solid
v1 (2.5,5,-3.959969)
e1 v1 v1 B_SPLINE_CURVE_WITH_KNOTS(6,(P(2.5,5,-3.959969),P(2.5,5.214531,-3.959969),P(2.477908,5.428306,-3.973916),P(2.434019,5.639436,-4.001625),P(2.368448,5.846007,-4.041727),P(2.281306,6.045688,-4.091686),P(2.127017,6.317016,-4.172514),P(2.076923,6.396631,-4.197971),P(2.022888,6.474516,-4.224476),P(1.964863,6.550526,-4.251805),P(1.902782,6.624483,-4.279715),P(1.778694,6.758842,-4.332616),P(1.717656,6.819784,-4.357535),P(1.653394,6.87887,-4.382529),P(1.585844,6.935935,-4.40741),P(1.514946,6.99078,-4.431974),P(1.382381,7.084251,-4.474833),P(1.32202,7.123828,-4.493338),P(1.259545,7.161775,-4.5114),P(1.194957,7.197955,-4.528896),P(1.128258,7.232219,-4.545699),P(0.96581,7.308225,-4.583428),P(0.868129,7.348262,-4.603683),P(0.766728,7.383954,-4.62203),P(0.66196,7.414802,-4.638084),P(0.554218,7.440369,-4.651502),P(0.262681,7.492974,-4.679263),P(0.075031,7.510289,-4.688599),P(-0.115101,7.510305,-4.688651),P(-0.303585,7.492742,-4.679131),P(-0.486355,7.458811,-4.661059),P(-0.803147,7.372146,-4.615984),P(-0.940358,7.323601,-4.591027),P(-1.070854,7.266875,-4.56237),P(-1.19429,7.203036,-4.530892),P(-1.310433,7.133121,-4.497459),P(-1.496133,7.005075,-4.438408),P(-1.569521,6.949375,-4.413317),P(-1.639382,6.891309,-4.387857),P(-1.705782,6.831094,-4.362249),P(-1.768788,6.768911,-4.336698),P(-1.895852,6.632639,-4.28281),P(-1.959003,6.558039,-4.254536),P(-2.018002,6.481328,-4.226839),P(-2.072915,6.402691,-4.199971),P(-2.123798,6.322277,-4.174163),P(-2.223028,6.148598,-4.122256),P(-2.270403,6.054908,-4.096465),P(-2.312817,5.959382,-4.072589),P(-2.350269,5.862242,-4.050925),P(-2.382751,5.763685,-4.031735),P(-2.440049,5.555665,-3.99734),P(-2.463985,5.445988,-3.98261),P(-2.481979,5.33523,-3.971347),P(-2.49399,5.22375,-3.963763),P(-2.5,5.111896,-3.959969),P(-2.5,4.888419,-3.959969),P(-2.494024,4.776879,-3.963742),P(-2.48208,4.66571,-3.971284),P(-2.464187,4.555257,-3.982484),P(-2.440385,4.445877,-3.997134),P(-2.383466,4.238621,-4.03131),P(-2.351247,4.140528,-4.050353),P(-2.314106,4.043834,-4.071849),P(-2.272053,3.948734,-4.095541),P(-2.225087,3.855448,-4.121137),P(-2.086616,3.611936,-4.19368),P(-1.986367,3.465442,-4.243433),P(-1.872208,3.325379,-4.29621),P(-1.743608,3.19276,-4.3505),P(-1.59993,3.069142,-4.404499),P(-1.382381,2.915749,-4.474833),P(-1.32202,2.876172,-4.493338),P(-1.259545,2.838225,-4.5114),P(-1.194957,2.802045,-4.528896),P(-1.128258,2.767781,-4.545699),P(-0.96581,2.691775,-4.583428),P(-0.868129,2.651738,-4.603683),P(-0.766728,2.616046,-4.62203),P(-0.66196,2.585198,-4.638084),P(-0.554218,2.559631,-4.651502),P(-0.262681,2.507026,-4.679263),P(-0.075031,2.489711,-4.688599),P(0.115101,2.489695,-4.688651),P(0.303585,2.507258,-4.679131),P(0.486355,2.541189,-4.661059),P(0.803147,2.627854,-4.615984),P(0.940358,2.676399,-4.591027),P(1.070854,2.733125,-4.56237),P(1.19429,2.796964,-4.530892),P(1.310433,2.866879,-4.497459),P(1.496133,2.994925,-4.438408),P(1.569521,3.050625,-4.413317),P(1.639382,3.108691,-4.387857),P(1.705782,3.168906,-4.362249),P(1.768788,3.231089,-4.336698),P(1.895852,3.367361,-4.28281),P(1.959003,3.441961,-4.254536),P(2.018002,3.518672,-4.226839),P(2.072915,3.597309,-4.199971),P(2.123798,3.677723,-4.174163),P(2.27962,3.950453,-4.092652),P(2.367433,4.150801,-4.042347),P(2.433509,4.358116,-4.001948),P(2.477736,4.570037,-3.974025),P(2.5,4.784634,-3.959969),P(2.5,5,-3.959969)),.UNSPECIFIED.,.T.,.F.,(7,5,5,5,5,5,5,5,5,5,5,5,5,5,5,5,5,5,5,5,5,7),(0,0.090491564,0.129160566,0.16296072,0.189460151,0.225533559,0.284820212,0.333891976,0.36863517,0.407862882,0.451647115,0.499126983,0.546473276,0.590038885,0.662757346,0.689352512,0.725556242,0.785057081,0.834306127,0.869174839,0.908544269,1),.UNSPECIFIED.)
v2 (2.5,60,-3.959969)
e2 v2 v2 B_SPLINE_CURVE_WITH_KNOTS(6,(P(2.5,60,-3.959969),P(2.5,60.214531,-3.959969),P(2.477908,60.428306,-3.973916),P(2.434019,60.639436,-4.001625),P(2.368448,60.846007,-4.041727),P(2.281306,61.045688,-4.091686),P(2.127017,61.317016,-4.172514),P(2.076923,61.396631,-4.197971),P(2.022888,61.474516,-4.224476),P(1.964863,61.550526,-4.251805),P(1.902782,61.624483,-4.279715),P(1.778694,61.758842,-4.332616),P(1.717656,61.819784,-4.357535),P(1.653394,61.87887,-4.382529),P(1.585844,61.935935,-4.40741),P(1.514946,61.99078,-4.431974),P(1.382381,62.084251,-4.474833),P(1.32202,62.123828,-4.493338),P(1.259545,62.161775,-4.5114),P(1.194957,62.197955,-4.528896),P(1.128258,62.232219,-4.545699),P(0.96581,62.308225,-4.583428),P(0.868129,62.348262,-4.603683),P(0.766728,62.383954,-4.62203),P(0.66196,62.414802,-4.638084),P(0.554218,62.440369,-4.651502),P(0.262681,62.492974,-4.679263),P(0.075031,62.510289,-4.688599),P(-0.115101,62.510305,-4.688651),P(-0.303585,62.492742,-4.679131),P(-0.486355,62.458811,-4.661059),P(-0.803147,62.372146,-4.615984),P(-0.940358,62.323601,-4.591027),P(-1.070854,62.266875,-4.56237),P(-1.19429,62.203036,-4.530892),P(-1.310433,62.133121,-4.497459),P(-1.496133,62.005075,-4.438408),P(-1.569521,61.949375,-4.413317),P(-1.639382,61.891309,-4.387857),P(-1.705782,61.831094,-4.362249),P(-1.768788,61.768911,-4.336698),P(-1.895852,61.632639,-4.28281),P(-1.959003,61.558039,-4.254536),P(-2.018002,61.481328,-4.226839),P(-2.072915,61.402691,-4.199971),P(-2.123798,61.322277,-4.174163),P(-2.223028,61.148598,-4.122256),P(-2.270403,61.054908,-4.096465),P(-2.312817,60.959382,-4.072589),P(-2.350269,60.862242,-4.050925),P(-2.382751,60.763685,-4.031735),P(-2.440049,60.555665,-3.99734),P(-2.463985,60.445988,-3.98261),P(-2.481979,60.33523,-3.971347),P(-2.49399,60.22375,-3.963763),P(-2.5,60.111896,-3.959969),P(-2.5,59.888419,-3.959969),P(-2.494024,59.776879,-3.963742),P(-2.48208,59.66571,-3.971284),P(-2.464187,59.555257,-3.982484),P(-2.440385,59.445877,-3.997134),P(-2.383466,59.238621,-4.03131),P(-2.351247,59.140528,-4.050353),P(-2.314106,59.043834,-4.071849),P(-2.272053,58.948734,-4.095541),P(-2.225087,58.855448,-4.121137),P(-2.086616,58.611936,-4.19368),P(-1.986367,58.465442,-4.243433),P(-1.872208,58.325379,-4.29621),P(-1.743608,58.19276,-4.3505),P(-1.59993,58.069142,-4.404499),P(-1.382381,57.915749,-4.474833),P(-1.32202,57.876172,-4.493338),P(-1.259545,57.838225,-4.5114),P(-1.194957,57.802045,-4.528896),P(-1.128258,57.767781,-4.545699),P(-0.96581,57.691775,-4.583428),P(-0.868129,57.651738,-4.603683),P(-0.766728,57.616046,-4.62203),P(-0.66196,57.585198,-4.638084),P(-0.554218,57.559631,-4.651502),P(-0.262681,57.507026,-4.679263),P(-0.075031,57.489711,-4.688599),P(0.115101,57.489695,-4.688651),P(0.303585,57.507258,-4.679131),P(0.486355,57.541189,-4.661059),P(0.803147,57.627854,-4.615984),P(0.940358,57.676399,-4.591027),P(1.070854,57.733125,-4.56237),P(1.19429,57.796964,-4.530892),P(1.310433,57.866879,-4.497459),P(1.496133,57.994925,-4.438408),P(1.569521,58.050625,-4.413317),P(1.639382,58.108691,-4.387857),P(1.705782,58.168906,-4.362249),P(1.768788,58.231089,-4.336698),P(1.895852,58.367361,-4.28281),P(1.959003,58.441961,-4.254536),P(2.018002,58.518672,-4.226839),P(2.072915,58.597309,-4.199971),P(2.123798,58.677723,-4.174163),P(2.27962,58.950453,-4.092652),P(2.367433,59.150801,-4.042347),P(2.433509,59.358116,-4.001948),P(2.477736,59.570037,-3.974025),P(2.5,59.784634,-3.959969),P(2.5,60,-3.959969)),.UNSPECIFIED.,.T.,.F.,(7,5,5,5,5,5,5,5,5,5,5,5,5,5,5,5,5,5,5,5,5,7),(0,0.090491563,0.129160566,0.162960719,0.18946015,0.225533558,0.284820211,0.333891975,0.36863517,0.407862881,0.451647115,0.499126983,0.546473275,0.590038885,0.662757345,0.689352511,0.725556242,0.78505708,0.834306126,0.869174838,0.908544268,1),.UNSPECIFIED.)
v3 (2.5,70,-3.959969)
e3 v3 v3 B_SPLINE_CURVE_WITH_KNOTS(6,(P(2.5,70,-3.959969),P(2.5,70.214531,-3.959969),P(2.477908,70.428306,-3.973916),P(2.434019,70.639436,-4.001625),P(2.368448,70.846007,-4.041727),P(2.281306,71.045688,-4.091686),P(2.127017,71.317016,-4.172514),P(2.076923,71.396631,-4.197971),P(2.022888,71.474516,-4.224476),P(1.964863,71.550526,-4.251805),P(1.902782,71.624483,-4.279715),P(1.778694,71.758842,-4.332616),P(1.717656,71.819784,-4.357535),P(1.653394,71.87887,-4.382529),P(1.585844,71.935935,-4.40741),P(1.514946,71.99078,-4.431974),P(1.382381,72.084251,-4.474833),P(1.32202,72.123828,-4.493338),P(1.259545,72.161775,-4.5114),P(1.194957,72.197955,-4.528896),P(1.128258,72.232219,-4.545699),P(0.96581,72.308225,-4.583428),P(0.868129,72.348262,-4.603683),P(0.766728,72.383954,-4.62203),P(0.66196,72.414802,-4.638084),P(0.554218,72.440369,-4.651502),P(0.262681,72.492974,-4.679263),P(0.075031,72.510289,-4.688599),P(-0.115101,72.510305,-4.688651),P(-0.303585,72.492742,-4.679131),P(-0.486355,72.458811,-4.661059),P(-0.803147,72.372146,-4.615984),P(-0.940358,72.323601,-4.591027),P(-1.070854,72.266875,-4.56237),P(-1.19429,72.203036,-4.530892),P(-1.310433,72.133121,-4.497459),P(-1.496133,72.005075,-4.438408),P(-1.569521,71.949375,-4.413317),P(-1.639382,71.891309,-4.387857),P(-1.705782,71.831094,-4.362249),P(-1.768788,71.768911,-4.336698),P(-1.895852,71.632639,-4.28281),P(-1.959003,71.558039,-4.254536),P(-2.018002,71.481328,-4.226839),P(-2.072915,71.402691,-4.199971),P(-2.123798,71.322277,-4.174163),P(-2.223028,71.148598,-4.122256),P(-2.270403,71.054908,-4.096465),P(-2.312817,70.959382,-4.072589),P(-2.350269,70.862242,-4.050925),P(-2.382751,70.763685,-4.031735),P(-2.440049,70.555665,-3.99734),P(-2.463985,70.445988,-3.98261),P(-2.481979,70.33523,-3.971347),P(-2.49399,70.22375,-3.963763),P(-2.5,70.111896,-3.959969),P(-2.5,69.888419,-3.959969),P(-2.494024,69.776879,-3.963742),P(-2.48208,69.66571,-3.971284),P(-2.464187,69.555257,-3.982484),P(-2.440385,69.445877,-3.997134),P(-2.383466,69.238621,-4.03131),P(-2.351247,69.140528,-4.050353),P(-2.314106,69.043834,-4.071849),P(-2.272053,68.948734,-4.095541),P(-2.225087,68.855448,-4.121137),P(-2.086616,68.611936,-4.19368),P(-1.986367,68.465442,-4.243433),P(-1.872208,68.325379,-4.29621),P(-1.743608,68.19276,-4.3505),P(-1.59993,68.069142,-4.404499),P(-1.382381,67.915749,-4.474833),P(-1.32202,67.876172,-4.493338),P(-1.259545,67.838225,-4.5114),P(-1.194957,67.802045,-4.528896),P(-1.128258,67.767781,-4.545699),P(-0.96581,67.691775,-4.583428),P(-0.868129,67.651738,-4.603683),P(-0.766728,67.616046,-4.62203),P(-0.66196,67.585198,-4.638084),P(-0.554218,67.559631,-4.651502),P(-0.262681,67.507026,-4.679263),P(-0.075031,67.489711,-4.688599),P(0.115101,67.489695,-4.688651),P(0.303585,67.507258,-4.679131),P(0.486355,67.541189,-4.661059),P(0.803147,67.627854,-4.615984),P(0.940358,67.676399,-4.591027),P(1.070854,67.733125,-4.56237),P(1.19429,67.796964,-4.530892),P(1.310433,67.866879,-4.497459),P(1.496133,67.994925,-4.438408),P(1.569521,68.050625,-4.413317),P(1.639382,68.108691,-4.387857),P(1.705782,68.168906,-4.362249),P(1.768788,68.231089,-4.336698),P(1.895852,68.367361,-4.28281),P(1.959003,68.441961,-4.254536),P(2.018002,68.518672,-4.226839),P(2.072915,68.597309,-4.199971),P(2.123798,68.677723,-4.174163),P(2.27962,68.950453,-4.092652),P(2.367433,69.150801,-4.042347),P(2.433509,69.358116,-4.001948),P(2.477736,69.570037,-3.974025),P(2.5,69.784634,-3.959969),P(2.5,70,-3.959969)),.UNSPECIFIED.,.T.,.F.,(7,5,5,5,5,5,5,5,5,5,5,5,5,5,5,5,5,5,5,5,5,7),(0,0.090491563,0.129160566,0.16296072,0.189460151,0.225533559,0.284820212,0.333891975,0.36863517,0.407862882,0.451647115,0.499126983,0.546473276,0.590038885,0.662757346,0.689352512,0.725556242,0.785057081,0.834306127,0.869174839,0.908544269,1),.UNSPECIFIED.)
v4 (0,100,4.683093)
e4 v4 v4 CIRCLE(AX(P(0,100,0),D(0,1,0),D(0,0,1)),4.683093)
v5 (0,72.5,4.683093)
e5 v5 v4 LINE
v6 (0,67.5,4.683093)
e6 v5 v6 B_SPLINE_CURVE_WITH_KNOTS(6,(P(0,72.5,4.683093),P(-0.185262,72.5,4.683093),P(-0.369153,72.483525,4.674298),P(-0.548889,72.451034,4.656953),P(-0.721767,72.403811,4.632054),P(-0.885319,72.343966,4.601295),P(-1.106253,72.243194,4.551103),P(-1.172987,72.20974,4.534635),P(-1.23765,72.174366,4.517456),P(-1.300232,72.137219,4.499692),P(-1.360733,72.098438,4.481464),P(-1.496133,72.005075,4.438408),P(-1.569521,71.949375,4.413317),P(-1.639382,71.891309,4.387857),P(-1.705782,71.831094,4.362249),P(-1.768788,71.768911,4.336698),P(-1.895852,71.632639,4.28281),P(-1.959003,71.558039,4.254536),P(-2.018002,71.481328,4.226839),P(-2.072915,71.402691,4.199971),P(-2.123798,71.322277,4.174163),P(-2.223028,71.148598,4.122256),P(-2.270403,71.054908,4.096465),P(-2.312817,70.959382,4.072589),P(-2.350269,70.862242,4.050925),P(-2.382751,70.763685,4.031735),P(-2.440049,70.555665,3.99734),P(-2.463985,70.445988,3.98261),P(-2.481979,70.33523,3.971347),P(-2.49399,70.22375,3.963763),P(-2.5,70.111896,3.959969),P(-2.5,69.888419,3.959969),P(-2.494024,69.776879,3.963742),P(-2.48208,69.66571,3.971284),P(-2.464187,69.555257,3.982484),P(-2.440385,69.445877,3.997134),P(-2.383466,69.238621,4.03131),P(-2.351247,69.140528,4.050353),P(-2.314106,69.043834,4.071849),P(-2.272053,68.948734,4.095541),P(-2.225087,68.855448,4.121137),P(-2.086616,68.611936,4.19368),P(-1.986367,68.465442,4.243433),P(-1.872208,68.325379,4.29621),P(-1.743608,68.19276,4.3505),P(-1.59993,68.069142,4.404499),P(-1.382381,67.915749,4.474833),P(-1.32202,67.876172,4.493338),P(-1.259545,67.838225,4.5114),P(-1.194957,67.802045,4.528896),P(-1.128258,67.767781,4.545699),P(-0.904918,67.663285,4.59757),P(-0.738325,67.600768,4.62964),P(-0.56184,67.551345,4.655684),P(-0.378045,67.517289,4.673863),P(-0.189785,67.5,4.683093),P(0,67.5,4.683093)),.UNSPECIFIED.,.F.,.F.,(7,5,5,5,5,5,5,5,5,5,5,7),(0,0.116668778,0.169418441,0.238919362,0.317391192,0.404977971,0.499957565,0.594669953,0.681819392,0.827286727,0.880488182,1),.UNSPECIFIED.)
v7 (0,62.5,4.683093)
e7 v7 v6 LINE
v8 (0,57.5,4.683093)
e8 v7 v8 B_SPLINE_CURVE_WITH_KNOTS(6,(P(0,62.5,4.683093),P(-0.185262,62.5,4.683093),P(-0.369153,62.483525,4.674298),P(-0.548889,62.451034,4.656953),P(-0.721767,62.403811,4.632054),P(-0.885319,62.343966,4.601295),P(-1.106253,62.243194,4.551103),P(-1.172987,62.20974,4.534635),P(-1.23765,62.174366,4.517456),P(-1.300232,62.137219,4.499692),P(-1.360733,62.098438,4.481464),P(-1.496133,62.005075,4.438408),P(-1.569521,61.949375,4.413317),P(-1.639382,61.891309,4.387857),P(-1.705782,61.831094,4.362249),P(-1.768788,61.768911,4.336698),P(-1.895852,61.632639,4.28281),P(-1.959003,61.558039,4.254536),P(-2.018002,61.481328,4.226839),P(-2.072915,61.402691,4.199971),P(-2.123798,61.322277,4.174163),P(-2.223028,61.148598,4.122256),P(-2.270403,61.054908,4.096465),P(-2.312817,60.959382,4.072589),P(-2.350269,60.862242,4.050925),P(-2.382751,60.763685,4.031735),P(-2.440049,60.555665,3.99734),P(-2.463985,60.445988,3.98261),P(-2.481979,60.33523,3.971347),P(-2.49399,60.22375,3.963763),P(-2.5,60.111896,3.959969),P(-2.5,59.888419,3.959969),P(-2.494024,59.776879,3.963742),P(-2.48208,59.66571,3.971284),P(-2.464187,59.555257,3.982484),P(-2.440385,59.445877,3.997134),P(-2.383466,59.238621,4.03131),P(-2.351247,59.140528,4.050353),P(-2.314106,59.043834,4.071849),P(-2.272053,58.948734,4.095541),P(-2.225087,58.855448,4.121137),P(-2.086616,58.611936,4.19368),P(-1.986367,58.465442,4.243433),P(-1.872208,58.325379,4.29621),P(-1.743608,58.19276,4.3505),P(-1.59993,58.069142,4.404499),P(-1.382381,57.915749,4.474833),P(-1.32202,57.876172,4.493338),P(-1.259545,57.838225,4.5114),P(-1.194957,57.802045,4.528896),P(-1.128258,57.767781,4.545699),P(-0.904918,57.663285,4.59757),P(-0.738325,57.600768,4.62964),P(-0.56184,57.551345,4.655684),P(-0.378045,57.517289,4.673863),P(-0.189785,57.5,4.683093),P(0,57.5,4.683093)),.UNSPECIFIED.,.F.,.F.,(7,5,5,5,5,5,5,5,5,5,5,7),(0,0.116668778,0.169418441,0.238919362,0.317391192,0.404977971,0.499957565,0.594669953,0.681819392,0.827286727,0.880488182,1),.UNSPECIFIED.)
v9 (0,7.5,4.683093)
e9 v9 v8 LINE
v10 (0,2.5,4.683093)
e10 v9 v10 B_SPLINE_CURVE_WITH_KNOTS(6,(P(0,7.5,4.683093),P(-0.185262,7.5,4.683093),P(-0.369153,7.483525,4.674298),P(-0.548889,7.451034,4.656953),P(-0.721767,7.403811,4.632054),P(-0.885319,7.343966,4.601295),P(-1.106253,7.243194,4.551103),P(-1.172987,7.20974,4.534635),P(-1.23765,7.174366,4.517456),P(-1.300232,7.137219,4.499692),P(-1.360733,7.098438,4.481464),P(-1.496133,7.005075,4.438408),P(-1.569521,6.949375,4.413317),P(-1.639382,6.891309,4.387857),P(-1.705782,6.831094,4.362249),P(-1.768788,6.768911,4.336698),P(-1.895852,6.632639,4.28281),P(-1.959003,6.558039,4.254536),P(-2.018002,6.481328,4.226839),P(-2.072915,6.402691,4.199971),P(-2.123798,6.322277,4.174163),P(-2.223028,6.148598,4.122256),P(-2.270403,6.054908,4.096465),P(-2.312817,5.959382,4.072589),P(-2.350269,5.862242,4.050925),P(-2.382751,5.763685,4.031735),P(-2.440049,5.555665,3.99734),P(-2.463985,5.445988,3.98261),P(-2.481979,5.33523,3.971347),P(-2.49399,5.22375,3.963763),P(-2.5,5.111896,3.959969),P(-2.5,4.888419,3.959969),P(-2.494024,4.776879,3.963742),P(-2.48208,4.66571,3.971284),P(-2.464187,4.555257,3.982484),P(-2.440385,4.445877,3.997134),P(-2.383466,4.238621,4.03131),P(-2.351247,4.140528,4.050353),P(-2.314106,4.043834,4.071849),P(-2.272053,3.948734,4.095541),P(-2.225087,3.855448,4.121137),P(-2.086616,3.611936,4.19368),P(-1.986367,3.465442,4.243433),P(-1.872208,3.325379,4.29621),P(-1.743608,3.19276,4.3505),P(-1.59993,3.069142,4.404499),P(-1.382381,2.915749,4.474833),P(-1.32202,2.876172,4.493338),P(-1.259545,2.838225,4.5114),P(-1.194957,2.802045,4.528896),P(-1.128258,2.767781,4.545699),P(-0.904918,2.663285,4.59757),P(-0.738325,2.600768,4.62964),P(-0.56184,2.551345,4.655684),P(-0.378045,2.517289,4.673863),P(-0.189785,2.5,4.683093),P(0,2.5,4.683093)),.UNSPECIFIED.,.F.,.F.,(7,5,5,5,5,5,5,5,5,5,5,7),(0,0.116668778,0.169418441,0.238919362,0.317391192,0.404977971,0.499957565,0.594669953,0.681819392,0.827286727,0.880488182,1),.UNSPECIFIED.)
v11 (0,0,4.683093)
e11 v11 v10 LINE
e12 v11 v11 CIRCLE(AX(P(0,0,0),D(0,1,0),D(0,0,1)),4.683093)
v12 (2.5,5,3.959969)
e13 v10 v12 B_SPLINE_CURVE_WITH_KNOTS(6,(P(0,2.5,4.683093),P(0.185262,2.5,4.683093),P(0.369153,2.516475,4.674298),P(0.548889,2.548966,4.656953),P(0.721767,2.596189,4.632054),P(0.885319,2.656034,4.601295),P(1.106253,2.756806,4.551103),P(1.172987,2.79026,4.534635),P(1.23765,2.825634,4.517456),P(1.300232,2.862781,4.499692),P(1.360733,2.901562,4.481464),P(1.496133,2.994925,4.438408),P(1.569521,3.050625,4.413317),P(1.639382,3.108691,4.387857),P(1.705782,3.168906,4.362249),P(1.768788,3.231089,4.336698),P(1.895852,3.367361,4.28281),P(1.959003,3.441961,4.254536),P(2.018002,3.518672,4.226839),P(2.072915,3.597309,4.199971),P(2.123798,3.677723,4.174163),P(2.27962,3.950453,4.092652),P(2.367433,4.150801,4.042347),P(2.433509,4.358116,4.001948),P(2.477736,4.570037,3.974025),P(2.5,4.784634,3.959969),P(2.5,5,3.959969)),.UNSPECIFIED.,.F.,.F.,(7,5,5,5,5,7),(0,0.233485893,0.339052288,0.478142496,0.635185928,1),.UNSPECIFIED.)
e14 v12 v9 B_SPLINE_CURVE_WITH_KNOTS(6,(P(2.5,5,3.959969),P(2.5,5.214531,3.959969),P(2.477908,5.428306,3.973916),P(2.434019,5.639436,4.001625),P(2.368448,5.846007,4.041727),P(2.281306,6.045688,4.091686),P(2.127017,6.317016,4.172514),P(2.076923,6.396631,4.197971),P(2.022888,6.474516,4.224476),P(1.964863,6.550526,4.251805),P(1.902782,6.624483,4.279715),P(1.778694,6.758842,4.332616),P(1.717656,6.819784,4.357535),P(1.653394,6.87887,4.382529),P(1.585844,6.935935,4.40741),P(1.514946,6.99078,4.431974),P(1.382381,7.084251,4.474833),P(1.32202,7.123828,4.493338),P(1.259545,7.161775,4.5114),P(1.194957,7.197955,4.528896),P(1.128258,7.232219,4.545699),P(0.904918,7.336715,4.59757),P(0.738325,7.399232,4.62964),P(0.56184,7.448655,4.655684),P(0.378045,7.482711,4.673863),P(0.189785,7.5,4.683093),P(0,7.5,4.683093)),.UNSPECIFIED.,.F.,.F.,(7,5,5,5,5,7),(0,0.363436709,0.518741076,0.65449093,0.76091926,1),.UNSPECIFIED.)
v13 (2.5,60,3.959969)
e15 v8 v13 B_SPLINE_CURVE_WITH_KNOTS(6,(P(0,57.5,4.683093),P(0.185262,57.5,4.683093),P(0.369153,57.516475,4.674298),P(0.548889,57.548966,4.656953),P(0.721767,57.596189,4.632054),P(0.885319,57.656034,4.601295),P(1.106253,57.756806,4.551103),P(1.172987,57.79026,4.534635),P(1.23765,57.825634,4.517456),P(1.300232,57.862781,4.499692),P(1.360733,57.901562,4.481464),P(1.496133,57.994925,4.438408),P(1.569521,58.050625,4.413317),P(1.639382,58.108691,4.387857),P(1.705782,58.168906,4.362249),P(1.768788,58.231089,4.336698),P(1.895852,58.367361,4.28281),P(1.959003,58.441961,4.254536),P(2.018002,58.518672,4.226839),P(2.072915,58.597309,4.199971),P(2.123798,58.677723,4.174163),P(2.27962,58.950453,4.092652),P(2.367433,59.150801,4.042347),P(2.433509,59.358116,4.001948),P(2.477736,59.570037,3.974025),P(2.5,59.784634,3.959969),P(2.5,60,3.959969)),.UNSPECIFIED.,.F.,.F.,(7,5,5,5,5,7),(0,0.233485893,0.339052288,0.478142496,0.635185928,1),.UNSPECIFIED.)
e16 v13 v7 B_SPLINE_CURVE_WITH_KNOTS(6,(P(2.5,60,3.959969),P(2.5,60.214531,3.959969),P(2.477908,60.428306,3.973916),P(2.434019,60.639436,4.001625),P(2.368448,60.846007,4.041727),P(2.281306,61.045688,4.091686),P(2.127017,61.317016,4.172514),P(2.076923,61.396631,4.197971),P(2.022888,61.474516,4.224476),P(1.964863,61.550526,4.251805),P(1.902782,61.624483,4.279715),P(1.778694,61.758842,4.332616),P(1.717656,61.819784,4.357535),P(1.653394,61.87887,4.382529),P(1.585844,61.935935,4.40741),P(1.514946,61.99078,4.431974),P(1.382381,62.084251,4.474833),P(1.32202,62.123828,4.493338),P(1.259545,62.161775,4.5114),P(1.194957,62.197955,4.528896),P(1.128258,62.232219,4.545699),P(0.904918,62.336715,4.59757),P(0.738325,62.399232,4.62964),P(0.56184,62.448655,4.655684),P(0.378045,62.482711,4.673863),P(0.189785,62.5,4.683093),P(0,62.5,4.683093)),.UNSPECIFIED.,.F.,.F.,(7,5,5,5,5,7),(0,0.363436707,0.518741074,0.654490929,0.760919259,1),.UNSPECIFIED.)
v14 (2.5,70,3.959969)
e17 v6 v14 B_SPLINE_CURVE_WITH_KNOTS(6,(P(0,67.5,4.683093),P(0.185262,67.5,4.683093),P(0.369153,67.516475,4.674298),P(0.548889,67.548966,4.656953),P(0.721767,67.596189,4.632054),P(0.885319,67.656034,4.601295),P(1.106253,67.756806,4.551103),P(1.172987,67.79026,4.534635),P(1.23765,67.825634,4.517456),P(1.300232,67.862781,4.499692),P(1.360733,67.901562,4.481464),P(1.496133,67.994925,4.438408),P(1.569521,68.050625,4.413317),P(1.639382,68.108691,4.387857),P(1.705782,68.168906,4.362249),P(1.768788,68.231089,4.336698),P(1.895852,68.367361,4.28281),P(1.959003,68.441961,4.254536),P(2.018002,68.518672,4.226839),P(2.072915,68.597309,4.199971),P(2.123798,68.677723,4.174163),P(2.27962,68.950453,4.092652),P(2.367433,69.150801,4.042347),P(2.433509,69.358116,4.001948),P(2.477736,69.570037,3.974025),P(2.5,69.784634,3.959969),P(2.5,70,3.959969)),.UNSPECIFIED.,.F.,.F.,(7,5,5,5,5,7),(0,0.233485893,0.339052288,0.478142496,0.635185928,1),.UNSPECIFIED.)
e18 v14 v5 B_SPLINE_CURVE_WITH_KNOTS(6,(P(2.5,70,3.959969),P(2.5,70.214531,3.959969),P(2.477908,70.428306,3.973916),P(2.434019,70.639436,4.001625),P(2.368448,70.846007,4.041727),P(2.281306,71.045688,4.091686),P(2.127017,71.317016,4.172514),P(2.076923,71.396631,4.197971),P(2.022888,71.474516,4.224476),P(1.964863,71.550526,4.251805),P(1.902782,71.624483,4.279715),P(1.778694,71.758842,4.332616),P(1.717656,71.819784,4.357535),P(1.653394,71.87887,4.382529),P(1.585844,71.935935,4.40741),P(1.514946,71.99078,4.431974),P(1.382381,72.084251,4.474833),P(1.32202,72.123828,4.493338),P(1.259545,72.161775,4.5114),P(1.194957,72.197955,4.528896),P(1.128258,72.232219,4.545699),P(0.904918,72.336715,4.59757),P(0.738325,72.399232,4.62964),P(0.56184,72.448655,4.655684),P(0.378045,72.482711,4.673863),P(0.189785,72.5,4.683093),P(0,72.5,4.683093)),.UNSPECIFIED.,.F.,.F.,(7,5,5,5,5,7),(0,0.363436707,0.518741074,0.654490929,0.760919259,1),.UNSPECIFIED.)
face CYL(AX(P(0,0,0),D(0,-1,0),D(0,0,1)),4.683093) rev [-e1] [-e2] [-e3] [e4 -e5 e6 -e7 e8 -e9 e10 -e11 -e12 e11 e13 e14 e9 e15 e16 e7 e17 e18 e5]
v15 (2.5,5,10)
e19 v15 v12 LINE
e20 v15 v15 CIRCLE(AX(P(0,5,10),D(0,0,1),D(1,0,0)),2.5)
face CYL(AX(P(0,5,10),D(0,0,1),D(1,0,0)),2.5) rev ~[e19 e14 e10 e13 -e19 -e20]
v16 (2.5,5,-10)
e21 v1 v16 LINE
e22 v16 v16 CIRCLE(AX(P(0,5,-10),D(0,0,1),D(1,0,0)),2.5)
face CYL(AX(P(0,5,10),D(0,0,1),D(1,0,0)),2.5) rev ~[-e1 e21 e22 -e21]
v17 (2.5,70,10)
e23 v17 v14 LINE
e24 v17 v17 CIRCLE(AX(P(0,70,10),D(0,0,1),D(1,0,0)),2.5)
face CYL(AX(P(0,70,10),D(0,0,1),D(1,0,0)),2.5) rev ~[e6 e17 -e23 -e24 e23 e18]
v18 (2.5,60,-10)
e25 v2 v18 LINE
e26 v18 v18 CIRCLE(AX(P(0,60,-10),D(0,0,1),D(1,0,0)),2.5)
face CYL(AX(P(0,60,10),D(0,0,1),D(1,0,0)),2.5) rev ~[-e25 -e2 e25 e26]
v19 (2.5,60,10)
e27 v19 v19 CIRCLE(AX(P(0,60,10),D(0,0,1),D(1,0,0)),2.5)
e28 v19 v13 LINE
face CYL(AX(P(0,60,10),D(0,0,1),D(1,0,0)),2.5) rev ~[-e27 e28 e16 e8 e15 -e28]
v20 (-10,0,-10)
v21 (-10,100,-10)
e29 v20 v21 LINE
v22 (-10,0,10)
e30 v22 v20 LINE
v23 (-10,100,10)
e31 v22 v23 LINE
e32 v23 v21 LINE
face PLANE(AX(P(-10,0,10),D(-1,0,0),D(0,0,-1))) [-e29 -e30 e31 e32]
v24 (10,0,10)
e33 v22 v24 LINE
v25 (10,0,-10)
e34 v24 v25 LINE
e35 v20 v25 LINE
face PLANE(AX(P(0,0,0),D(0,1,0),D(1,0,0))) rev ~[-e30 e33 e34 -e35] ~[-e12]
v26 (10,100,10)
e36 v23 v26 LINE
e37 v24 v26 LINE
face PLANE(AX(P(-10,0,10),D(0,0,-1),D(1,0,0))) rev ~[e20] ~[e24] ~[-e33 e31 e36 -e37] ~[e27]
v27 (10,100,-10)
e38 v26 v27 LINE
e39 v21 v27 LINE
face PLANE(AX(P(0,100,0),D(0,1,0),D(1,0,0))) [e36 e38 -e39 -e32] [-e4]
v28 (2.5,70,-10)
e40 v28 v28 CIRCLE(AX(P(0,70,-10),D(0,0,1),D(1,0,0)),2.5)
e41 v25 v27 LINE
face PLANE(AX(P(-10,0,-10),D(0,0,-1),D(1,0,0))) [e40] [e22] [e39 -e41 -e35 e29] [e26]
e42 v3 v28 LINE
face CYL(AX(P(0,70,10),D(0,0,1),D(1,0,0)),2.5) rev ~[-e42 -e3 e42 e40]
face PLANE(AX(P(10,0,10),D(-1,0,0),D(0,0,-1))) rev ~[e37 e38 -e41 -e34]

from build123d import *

# Parameters (mm, degrees)
SKETCH1_W           = 20
SKETCH1_H           = 20
SKETCH1_R           = 4.683092763
BOSS_EXTRUDE1_DEPTH = 100
SKETCH2_R           = 2.5
CUT_EXTRUDE1_DEPTH  = 100
SKETCH3_R           = 2.5
CUT_EXTRUDE2_DEPTH  = 103.469507777


with BuildPart() as part:
    # Sketch1 → Boss-Extrude1 (new body)
    with BuildSketch(Plane(origin=(0, 0, 0), x_dir=(1, 0, 0), z_dir=(0, 1, 0))):
        Rectangle(SKETCH1_W, SKETCH1_H)
        with Locations(Location((0, 0, 0), (0, 0, 270))):
            Circle(SKETCH1_R, mode=Mode.SUBTRACT)
    extrude(amount=BOSS_EXTRUDE1_DEPTH)

    # Sketch2 → Cut-Extrude1 (cut)
    with BuildSketch(Plane.XY.offset(10)):
        with Locations((0, 5)):
            Circle(SKETCH2_R)
    extrude(amount=-CUT_EXTRUDE1_DEPTH, mode=Mode.SUBTRACT)

    # Sketch3 → Cut-Extrude2 (cut, through all)
    with BuildSketch(Plane.XY.offset(10)):
        with Locations((0, 60)):
            Circle(SKETCH3_R)
        with Locations((0, 70)):
            Circle(SKETCH3_R)
    extrude(amount=-CUT_EXTRUDE2_DEPTH, mode=Mode.SUBTRACT)


solid = part.part
